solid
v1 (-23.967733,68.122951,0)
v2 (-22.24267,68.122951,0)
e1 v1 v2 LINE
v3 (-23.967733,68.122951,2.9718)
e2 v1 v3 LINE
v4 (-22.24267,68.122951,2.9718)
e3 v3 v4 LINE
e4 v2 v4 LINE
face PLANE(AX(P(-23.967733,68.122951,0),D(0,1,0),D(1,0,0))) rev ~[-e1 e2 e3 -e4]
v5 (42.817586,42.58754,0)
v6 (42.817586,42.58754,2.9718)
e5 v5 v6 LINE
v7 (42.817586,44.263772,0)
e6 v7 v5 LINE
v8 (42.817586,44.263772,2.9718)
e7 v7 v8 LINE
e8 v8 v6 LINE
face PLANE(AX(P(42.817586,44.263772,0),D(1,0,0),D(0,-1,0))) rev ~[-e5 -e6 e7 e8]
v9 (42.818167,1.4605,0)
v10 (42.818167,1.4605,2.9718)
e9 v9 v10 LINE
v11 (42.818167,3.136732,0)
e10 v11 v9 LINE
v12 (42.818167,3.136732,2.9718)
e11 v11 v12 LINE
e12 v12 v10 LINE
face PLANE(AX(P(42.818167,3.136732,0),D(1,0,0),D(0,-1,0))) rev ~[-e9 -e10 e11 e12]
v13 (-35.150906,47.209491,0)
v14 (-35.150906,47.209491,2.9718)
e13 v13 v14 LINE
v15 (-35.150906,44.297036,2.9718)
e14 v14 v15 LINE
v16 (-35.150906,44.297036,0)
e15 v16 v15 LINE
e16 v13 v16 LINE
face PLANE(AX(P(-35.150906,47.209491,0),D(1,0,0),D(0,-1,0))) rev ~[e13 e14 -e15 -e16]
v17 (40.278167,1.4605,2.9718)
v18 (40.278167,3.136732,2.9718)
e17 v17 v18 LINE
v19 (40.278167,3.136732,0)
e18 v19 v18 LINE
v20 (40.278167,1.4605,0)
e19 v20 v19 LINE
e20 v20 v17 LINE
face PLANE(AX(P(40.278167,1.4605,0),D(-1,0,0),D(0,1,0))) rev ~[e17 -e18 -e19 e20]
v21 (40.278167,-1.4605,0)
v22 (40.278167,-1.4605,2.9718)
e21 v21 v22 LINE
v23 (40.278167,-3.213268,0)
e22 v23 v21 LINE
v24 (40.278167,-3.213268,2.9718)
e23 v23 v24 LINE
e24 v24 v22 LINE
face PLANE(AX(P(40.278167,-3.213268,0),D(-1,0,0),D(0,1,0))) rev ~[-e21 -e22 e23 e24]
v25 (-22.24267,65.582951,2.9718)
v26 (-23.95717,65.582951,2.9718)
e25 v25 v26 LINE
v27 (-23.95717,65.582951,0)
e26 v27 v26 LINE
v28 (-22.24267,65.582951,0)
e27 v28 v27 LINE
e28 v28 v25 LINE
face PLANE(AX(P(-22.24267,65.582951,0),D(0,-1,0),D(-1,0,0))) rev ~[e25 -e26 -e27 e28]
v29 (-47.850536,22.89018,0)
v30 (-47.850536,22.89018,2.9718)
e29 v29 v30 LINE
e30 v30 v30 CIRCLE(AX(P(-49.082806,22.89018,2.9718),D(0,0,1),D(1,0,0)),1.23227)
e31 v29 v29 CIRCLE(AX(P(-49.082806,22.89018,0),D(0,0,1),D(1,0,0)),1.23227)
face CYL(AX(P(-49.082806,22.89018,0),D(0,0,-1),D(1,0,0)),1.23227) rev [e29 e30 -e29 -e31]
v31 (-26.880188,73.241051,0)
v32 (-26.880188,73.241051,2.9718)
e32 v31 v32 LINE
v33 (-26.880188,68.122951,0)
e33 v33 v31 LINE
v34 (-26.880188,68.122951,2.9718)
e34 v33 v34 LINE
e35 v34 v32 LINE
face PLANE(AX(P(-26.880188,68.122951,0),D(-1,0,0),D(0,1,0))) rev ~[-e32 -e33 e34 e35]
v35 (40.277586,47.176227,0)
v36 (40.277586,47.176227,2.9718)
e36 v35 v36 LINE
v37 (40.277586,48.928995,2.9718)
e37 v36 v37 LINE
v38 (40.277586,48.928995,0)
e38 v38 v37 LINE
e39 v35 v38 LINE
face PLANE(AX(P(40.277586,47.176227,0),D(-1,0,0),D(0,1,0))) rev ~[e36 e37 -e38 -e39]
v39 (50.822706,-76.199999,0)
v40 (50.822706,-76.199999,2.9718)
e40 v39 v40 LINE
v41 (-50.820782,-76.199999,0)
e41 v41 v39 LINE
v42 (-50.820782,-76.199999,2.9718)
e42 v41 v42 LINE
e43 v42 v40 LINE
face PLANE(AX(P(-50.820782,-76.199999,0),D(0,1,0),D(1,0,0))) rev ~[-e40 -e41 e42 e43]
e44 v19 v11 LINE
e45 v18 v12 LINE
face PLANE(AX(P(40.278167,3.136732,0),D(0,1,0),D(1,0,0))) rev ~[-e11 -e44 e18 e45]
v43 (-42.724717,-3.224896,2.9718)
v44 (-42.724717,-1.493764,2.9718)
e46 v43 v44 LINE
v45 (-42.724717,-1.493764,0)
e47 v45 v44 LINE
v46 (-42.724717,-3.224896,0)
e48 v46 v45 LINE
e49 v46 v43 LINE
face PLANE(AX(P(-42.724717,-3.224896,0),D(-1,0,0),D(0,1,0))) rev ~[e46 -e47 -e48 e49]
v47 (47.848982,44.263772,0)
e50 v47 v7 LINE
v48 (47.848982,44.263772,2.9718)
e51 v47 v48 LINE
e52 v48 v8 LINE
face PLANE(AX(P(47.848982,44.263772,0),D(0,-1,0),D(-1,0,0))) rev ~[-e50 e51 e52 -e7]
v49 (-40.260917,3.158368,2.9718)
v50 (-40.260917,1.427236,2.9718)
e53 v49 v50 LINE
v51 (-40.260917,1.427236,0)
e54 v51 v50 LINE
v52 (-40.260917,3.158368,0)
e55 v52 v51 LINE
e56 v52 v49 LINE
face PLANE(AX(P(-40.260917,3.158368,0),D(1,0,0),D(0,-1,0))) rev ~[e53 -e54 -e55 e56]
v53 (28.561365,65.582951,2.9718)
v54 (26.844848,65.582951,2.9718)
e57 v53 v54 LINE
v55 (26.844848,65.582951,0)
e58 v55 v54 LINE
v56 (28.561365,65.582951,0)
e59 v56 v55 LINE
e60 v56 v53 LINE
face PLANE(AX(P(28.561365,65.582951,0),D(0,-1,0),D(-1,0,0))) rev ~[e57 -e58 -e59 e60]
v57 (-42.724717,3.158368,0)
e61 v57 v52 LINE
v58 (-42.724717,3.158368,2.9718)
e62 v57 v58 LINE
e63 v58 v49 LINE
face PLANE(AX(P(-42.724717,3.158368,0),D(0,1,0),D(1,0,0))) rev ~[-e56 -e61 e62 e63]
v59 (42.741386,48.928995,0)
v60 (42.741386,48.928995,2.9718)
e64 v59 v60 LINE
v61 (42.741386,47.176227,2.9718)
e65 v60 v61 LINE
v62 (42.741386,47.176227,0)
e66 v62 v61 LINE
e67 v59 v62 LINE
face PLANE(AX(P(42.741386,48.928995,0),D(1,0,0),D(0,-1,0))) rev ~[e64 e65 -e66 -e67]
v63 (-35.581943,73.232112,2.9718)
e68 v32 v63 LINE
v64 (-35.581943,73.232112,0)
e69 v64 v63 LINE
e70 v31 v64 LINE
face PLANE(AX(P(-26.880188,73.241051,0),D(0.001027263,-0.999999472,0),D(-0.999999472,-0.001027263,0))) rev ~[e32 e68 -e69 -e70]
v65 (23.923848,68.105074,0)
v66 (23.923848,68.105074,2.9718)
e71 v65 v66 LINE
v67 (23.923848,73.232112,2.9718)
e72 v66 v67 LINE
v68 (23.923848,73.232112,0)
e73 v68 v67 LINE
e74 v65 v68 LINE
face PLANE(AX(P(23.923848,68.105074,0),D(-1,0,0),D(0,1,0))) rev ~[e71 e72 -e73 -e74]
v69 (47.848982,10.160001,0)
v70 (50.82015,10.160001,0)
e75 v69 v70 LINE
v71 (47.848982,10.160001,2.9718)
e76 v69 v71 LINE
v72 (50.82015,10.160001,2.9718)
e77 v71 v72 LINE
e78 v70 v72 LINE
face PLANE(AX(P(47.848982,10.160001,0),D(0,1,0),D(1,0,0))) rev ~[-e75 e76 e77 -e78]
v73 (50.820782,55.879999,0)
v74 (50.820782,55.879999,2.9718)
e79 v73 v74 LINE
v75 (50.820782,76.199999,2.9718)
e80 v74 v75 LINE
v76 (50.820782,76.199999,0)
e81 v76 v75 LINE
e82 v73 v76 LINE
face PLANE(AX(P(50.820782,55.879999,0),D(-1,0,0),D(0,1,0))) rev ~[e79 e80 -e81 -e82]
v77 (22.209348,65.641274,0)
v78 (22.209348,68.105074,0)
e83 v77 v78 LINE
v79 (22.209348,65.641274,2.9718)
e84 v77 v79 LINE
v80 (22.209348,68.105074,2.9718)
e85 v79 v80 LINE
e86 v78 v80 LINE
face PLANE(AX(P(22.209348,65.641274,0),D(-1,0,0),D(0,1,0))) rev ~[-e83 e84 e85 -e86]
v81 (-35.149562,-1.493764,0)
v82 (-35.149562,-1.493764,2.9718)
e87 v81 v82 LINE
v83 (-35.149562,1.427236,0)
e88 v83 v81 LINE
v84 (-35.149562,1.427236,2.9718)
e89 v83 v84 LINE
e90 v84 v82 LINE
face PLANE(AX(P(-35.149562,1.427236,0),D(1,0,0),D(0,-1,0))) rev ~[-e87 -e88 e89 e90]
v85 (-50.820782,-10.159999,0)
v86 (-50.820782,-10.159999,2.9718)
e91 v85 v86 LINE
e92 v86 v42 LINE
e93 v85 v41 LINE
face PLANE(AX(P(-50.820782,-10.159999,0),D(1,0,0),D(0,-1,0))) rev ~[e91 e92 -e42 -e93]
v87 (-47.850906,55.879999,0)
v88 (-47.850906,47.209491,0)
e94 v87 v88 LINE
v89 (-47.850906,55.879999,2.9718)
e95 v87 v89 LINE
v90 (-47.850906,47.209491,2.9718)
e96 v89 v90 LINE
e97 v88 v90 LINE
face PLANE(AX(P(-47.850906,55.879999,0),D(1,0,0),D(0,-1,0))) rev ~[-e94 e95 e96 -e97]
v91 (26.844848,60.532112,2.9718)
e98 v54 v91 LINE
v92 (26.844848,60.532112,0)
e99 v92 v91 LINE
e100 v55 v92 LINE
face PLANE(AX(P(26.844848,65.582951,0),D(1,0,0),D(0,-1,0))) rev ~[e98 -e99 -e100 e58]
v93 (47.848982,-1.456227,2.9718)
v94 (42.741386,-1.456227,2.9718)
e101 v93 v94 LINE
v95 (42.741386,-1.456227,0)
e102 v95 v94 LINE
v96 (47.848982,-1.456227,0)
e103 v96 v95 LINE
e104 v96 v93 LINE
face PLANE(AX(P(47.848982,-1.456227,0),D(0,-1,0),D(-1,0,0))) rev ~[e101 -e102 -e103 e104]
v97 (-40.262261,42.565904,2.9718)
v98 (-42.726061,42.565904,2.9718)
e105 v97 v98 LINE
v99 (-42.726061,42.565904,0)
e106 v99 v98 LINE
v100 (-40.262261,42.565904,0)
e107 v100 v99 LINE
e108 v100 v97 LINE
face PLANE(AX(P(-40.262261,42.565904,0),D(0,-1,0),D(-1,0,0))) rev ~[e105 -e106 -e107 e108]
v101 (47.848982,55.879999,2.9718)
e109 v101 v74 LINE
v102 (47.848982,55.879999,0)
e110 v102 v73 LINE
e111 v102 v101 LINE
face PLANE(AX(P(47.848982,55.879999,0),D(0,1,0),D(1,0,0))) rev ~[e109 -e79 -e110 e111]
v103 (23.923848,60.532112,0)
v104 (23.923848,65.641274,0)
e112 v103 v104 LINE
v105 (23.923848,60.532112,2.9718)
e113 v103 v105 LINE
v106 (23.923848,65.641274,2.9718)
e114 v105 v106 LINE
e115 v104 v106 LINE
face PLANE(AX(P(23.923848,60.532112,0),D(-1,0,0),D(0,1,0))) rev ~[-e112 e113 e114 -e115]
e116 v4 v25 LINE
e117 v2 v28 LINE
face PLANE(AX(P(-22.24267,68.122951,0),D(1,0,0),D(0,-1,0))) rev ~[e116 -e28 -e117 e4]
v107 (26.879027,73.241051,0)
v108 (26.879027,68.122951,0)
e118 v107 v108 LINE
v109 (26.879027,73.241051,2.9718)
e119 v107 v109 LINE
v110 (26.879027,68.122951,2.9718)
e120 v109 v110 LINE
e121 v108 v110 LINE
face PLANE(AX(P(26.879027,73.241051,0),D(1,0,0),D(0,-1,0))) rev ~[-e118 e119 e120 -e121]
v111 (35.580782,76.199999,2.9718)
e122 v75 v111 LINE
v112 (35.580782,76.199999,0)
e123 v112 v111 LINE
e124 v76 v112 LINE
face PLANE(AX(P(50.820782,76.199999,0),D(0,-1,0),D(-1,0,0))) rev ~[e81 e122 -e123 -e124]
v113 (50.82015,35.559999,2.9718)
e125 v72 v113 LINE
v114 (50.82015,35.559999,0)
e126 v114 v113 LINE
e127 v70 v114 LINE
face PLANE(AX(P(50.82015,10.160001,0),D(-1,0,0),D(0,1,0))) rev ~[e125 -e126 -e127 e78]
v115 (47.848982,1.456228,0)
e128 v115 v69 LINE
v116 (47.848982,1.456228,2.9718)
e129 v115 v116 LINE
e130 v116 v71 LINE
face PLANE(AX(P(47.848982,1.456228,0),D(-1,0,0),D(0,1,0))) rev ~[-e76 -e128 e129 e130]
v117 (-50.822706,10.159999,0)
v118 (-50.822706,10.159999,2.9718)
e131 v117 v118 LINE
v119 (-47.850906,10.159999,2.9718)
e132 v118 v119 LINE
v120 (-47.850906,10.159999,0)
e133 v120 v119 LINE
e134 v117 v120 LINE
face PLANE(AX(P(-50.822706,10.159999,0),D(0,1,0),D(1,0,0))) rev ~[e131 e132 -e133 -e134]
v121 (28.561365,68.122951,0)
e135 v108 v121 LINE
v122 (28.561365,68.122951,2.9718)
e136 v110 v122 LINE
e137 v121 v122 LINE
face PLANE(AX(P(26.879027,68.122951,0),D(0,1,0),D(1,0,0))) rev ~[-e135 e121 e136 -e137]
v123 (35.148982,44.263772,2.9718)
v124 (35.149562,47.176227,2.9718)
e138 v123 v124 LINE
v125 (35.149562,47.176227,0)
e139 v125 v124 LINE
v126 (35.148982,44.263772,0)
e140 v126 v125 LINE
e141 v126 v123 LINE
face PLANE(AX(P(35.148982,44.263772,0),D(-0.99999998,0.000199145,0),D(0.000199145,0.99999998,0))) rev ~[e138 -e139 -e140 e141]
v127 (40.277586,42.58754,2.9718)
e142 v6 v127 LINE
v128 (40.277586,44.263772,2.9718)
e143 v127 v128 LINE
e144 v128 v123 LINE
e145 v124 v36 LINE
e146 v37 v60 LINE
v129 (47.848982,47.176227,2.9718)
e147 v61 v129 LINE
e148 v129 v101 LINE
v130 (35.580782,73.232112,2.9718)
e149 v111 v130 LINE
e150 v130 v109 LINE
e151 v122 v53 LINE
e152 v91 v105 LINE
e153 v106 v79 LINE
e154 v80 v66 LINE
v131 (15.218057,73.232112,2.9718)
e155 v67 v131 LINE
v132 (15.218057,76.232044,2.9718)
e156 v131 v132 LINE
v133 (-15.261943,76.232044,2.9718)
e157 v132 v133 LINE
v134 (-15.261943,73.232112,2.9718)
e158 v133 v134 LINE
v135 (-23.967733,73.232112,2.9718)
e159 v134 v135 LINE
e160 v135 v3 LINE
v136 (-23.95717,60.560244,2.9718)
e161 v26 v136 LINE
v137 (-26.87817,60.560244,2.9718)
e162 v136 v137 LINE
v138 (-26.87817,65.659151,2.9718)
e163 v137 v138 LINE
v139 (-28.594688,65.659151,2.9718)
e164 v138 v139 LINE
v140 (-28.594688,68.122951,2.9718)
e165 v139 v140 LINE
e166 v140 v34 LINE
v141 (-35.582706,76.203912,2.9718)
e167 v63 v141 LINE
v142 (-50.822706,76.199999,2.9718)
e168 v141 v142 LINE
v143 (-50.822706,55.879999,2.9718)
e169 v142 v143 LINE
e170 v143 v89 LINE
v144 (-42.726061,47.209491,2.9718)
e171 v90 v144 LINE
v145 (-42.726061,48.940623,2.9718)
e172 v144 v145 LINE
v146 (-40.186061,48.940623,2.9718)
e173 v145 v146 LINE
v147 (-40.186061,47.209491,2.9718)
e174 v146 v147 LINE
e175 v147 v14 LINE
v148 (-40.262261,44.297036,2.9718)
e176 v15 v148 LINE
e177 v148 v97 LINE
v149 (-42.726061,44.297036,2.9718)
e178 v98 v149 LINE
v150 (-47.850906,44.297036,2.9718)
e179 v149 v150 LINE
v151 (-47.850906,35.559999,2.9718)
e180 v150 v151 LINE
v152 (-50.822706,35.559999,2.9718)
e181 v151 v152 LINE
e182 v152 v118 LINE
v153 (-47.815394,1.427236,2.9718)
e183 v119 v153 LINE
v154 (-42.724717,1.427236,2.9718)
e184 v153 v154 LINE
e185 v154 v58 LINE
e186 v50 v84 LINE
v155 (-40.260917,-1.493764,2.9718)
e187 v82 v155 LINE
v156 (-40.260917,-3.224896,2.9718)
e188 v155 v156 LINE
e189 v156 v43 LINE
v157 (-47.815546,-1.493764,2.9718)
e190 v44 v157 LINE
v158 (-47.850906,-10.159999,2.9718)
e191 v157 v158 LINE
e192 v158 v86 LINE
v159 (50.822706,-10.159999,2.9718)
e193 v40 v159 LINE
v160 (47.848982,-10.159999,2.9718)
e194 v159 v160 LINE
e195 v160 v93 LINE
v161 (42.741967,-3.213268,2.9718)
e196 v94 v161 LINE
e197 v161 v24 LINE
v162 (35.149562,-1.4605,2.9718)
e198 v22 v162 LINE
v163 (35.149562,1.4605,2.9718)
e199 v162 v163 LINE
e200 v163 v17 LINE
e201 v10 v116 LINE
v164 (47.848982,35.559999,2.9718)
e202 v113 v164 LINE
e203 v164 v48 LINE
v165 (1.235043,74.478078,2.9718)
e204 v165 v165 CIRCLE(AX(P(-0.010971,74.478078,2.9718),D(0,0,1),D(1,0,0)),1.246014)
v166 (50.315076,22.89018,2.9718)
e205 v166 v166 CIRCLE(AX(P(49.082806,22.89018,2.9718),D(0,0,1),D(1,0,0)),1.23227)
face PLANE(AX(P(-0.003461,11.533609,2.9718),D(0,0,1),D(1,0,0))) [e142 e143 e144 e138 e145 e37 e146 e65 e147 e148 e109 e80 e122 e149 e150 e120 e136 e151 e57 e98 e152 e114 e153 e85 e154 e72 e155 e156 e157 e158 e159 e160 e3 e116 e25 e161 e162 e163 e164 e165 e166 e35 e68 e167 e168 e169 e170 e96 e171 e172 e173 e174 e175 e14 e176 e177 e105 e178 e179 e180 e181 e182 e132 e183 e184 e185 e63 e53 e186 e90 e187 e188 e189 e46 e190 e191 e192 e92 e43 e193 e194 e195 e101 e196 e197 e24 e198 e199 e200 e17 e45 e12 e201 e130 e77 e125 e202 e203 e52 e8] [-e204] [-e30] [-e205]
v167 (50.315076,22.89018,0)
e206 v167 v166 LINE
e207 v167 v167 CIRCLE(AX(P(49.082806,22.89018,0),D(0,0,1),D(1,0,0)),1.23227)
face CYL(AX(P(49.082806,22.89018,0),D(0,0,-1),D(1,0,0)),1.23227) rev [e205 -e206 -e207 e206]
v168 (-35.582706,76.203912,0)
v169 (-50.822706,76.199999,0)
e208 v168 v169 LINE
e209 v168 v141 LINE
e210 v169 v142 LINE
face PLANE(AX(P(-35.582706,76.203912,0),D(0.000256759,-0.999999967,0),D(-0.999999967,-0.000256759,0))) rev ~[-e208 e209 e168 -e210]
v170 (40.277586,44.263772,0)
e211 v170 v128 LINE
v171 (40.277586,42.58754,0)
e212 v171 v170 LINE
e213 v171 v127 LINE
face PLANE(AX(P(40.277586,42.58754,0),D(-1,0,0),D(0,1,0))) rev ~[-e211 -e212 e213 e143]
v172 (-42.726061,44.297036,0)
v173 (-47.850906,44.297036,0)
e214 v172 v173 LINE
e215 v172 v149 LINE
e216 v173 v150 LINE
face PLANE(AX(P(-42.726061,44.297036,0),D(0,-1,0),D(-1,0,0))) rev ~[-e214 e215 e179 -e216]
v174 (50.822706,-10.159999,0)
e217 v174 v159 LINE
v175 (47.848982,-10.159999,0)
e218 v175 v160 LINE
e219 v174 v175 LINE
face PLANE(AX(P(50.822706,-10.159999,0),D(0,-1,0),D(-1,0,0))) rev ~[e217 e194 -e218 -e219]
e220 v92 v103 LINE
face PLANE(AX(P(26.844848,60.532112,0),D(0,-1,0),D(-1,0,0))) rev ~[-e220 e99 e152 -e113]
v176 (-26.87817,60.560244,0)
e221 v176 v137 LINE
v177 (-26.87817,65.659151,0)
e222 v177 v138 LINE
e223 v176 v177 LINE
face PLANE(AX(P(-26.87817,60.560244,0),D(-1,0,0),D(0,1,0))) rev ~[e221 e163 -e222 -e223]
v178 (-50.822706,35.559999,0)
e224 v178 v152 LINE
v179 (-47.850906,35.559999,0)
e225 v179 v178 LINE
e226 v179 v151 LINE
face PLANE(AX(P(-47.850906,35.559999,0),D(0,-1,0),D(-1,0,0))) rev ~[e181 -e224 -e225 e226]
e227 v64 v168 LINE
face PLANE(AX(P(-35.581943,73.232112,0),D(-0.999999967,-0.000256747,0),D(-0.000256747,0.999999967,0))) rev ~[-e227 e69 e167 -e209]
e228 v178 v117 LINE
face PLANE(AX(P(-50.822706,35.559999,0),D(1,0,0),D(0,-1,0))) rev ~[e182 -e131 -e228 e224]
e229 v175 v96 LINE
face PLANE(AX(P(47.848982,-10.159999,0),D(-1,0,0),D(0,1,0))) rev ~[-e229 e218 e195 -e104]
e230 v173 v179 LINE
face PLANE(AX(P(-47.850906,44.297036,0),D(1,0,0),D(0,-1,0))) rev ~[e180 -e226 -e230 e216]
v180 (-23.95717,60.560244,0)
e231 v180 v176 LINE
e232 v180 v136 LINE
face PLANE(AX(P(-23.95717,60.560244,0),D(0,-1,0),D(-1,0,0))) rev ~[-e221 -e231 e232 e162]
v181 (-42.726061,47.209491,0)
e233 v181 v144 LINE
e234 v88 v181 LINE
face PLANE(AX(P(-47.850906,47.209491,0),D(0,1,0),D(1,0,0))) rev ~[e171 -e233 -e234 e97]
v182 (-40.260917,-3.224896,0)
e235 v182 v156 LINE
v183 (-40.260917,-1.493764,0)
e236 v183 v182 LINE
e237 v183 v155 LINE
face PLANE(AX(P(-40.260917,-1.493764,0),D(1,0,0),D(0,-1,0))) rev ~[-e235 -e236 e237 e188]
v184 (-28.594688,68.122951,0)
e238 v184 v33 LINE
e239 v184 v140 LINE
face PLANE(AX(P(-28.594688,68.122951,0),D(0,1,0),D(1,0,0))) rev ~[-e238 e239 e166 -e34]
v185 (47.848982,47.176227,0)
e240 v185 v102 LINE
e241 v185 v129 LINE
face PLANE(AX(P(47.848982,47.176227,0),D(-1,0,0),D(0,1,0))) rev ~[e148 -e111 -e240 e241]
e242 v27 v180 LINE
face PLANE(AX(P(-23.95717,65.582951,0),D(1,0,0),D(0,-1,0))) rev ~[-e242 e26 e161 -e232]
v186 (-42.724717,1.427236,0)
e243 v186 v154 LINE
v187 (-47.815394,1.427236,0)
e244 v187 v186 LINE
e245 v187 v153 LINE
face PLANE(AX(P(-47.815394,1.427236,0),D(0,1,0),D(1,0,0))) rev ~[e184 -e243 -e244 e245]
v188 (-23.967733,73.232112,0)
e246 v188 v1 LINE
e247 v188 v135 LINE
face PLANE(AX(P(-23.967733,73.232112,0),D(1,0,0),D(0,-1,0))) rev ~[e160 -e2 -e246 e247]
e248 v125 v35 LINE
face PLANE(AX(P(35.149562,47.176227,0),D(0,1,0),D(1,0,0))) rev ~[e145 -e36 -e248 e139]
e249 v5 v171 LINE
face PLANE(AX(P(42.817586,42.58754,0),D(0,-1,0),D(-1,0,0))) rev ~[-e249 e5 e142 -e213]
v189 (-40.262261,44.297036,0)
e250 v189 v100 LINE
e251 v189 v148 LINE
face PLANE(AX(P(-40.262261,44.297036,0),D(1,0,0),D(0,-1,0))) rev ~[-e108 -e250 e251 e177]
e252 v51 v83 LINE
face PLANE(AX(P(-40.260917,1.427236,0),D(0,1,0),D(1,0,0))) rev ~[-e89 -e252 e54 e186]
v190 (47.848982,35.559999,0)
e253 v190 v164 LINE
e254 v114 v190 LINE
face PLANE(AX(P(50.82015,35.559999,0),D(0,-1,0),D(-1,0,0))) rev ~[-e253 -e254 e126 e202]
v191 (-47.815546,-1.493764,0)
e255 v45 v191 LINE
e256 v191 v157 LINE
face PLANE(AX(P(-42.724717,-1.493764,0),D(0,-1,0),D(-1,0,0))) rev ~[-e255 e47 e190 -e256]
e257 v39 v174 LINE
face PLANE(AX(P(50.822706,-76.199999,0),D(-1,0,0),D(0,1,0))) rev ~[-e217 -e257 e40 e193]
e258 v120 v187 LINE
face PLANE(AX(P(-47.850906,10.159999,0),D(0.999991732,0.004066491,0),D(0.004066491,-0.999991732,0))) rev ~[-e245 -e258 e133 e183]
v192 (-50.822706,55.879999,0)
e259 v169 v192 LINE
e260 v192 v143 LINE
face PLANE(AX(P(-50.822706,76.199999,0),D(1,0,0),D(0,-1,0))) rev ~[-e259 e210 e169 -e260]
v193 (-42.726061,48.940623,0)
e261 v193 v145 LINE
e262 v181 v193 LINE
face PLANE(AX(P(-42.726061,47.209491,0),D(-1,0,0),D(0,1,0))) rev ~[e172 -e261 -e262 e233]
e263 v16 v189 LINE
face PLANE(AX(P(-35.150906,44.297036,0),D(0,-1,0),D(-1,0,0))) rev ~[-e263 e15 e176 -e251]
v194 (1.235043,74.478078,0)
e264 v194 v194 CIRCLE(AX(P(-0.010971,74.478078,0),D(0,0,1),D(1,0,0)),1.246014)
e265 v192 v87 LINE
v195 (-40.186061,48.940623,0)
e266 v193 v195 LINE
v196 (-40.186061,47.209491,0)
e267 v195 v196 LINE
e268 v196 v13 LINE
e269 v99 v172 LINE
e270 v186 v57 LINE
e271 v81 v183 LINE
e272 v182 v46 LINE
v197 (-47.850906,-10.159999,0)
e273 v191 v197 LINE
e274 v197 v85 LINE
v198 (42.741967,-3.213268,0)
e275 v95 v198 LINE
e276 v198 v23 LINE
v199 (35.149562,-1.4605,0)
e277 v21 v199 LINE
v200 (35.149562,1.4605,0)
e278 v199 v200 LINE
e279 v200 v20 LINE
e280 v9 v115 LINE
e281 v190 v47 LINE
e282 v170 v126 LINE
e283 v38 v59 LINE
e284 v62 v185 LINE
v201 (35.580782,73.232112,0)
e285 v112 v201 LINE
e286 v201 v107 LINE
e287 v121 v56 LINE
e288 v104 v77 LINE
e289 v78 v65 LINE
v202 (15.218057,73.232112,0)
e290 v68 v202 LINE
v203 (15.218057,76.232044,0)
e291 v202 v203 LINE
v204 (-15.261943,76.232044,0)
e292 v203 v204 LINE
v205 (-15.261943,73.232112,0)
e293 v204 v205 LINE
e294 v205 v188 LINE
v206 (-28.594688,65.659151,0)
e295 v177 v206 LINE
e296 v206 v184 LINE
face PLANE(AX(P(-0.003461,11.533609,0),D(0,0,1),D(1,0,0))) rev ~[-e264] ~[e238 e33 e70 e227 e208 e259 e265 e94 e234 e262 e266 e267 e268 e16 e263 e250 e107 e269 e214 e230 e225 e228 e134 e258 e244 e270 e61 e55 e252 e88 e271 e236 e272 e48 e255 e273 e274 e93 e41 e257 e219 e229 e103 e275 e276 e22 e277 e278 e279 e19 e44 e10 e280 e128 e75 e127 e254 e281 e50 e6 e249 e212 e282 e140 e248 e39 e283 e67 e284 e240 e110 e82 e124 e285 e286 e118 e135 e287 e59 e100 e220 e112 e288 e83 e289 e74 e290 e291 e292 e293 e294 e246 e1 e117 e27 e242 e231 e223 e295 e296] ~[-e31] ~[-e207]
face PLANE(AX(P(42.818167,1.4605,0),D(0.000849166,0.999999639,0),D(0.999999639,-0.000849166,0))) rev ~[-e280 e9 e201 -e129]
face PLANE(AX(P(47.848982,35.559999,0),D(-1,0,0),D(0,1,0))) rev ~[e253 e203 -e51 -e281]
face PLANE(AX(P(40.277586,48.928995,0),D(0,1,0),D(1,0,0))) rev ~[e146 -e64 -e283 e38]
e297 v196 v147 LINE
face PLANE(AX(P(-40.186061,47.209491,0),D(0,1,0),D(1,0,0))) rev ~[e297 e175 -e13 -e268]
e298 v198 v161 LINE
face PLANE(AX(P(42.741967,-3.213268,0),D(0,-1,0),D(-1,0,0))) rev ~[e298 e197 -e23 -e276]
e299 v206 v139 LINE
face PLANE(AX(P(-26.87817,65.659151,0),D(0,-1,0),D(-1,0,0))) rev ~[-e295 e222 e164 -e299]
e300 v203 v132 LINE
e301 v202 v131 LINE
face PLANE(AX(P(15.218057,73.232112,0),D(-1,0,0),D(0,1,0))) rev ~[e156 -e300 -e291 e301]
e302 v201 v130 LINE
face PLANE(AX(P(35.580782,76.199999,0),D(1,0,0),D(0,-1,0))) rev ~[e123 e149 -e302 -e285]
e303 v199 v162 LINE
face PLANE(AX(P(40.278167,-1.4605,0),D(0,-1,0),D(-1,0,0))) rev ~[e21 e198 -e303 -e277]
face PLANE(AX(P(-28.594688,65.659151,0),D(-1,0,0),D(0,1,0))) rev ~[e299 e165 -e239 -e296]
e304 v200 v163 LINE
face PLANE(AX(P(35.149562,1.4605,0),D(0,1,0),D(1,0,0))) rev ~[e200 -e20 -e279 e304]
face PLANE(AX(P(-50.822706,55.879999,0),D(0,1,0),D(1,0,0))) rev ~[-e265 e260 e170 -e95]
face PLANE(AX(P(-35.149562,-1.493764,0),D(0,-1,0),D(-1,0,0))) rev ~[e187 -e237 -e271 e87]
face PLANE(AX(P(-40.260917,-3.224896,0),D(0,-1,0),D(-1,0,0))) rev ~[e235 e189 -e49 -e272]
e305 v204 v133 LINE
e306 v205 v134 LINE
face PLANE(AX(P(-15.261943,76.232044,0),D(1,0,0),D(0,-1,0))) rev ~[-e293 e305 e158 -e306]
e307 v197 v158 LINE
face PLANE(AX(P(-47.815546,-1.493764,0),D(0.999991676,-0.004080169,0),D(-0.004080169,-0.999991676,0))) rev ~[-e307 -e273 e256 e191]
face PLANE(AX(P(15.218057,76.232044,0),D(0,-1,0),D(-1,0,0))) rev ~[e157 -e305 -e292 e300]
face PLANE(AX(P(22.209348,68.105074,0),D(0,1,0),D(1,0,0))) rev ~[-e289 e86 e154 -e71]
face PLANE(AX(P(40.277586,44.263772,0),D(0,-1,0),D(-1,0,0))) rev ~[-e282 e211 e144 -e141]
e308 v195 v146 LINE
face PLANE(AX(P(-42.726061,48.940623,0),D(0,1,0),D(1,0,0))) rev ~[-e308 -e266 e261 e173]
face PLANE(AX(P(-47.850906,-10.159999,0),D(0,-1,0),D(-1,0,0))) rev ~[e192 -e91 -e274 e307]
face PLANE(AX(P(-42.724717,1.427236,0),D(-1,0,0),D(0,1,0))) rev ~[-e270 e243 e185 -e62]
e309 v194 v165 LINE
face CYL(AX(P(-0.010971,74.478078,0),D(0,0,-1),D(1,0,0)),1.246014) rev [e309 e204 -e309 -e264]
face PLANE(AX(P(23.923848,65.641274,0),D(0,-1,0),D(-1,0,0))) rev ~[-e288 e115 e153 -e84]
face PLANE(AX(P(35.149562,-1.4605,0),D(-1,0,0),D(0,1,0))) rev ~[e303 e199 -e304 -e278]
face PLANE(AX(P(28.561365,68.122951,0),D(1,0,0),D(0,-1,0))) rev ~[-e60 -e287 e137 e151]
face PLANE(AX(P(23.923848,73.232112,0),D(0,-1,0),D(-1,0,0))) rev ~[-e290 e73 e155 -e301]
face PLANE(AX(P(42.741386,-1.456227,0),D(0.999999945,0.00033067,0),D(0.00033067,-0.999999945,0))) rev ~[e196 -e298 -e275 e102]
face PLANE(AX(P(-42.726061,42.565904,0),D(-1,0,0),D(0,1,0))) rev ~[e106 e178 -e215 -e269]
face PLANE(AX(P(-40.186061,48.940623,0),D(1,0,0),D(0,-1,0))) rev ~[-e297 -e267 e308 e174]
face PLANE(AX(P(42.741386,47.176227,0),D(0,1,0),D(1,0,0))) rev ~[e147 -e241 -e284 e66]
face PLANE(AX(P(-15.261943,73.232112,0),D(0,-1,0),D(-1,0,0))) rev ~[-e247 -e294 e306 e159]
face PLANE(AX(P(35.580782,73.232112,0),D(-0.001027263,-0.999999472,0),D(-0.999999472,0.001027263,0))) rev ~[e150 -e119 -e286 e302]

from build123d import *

# Parameters (mm, degrees)
F0_R     = 1.23227
F0_R_2   = 1.246014
F1_DEPTH = 2.9718


with BuildPart() as f1:
    # F0 (on Top) → F1 (new body)
    with BuildSketch(Plane.XY):
        Polygon((-50.820782, -76.199999), (50.822706, -76.199999), (50.822706, -10.159999), (47.848982, -10.159999), (47.848982, -4.600307), (47.848982, -1.456227), (42.741386, -1.456227), (42.741967, -3.213268), (40.278167, -3.213268), (40.278167, -1.4605), (35.149562, -1.4605), (35.149562, 0), (35.149562, 1.4605), (40.278167, 1.4605), (40.278167, 3.136732), (42.818167, 3.136732), (42.818167, 1.4605), (47.848982, 1.456228), (47.848982, 10.160001), (50.82015, 10.160001), (50.82015, 35.559999), (47.848982, 35.559999), (47.848982, 44.263772), (42.817586, 44.263772), (42.817586, 42.58754), (40.277586, 42.58754), (40.277586, 44.263772), (35.148982, 44.263772), (35.149562, 47.176227), (40.277586, 47.176227), (40.277586, 48.928995), (42.741386, 48.928995), (42.741386, 47.176227), (47.848982, 47.176227), (47.848982, 55.879999), (50.820782, 55.879999), (50.820782, 76.199999), (35.580782, 76.199999), (35.580782, 73.232112), (26.879027, 73.241051), (26.879027, 68.122951), (28.561365, 68.122951), (28.561365, 65.582951), (26.844848, 65.582951), (26.844848, 60.532112), (25.384348, 60.532112), (23.923848, 60.532112), (23.923848, 65.641274), (22.209348, 65.641274), (22.209348, 68.105074), (23.923848, 68.105074), (23.923848, 73.232112), (15.218057, 73.232112), (15.218057, 76.232044), (-0.021943, 76.232044), (-15.261943, 76.232044), (-15.261943, 73.232112), (-23.967733, 73.232112), (-23.967733, 68.122951), (-22.24267, 68.122951), (-22.24267, 65.582951), (-23.95717, 65.582951), (-23.95717, 60.560244), (-25.41767, 60.560244), (-26.87817, 60.560244), (-26.87817, 65.659151), (-28.594688, 65.659151), (-28.594688, 68.122951), (-26.880188, 68.122951), (-26.880188, 73.241051), (-35.581943, 73.232112), (-35.582706, 76.203912), (-50.822706, 76.199999), (-50.822706, 55.879999), (-47.850906, 55.879999), (-47.850906, 47.209491), (-42.726061, 47.209491), (-42.726061, 48.940623), (-40.186061, 48.940623), (-40.186061, 47.209491), (-35.150906, 47.209491), (-35.150906, 45.757536), (-35.150906, 44.297036), (-40.262261, 44.297036), (-40.262261, 42.565904), (-42.726061, 42.565904), (-42.726061, 44.297036), (-47.850906, 44.297036), (-47.850906, 35.559999), (-50.822706, 35.559999), (-50.822706, 10.159999), (-47.850906, 10.159999), (-47.815394, 1.427236), (-42.724717, 1.427236), (-42.724717, 3.158368), (-40.260917, 3.158368), (-40.260917, 1.427236), (-35.149562, 1.427236), (-35.149562, -0.033264), (-35.149562, -1.493764), (-40.260917, -1.493764), (-40.260917, -3.224896), (-42.724717, -3.224896), (-42.724717, -1.493764), (-47.815546, -1.493764), (-47.850906, -10.159999), (-50.820782, -10.159999), align=None)
        with Locations((-49.082806, 22.89018)):
            Circle(F0_R, mode=Mode.SUBTRACT)
        with Locations((-0.010971, 74.478078)):
            Circle(F0_R_2, mode=Mode.SUBTRACT)
        with Locations((49.082806, 22.89018)):
            Circle(F0_R, mode=Mode.SUBTRACT)
    extrude(amount=F1_DEPTH)


solid = f1.part
